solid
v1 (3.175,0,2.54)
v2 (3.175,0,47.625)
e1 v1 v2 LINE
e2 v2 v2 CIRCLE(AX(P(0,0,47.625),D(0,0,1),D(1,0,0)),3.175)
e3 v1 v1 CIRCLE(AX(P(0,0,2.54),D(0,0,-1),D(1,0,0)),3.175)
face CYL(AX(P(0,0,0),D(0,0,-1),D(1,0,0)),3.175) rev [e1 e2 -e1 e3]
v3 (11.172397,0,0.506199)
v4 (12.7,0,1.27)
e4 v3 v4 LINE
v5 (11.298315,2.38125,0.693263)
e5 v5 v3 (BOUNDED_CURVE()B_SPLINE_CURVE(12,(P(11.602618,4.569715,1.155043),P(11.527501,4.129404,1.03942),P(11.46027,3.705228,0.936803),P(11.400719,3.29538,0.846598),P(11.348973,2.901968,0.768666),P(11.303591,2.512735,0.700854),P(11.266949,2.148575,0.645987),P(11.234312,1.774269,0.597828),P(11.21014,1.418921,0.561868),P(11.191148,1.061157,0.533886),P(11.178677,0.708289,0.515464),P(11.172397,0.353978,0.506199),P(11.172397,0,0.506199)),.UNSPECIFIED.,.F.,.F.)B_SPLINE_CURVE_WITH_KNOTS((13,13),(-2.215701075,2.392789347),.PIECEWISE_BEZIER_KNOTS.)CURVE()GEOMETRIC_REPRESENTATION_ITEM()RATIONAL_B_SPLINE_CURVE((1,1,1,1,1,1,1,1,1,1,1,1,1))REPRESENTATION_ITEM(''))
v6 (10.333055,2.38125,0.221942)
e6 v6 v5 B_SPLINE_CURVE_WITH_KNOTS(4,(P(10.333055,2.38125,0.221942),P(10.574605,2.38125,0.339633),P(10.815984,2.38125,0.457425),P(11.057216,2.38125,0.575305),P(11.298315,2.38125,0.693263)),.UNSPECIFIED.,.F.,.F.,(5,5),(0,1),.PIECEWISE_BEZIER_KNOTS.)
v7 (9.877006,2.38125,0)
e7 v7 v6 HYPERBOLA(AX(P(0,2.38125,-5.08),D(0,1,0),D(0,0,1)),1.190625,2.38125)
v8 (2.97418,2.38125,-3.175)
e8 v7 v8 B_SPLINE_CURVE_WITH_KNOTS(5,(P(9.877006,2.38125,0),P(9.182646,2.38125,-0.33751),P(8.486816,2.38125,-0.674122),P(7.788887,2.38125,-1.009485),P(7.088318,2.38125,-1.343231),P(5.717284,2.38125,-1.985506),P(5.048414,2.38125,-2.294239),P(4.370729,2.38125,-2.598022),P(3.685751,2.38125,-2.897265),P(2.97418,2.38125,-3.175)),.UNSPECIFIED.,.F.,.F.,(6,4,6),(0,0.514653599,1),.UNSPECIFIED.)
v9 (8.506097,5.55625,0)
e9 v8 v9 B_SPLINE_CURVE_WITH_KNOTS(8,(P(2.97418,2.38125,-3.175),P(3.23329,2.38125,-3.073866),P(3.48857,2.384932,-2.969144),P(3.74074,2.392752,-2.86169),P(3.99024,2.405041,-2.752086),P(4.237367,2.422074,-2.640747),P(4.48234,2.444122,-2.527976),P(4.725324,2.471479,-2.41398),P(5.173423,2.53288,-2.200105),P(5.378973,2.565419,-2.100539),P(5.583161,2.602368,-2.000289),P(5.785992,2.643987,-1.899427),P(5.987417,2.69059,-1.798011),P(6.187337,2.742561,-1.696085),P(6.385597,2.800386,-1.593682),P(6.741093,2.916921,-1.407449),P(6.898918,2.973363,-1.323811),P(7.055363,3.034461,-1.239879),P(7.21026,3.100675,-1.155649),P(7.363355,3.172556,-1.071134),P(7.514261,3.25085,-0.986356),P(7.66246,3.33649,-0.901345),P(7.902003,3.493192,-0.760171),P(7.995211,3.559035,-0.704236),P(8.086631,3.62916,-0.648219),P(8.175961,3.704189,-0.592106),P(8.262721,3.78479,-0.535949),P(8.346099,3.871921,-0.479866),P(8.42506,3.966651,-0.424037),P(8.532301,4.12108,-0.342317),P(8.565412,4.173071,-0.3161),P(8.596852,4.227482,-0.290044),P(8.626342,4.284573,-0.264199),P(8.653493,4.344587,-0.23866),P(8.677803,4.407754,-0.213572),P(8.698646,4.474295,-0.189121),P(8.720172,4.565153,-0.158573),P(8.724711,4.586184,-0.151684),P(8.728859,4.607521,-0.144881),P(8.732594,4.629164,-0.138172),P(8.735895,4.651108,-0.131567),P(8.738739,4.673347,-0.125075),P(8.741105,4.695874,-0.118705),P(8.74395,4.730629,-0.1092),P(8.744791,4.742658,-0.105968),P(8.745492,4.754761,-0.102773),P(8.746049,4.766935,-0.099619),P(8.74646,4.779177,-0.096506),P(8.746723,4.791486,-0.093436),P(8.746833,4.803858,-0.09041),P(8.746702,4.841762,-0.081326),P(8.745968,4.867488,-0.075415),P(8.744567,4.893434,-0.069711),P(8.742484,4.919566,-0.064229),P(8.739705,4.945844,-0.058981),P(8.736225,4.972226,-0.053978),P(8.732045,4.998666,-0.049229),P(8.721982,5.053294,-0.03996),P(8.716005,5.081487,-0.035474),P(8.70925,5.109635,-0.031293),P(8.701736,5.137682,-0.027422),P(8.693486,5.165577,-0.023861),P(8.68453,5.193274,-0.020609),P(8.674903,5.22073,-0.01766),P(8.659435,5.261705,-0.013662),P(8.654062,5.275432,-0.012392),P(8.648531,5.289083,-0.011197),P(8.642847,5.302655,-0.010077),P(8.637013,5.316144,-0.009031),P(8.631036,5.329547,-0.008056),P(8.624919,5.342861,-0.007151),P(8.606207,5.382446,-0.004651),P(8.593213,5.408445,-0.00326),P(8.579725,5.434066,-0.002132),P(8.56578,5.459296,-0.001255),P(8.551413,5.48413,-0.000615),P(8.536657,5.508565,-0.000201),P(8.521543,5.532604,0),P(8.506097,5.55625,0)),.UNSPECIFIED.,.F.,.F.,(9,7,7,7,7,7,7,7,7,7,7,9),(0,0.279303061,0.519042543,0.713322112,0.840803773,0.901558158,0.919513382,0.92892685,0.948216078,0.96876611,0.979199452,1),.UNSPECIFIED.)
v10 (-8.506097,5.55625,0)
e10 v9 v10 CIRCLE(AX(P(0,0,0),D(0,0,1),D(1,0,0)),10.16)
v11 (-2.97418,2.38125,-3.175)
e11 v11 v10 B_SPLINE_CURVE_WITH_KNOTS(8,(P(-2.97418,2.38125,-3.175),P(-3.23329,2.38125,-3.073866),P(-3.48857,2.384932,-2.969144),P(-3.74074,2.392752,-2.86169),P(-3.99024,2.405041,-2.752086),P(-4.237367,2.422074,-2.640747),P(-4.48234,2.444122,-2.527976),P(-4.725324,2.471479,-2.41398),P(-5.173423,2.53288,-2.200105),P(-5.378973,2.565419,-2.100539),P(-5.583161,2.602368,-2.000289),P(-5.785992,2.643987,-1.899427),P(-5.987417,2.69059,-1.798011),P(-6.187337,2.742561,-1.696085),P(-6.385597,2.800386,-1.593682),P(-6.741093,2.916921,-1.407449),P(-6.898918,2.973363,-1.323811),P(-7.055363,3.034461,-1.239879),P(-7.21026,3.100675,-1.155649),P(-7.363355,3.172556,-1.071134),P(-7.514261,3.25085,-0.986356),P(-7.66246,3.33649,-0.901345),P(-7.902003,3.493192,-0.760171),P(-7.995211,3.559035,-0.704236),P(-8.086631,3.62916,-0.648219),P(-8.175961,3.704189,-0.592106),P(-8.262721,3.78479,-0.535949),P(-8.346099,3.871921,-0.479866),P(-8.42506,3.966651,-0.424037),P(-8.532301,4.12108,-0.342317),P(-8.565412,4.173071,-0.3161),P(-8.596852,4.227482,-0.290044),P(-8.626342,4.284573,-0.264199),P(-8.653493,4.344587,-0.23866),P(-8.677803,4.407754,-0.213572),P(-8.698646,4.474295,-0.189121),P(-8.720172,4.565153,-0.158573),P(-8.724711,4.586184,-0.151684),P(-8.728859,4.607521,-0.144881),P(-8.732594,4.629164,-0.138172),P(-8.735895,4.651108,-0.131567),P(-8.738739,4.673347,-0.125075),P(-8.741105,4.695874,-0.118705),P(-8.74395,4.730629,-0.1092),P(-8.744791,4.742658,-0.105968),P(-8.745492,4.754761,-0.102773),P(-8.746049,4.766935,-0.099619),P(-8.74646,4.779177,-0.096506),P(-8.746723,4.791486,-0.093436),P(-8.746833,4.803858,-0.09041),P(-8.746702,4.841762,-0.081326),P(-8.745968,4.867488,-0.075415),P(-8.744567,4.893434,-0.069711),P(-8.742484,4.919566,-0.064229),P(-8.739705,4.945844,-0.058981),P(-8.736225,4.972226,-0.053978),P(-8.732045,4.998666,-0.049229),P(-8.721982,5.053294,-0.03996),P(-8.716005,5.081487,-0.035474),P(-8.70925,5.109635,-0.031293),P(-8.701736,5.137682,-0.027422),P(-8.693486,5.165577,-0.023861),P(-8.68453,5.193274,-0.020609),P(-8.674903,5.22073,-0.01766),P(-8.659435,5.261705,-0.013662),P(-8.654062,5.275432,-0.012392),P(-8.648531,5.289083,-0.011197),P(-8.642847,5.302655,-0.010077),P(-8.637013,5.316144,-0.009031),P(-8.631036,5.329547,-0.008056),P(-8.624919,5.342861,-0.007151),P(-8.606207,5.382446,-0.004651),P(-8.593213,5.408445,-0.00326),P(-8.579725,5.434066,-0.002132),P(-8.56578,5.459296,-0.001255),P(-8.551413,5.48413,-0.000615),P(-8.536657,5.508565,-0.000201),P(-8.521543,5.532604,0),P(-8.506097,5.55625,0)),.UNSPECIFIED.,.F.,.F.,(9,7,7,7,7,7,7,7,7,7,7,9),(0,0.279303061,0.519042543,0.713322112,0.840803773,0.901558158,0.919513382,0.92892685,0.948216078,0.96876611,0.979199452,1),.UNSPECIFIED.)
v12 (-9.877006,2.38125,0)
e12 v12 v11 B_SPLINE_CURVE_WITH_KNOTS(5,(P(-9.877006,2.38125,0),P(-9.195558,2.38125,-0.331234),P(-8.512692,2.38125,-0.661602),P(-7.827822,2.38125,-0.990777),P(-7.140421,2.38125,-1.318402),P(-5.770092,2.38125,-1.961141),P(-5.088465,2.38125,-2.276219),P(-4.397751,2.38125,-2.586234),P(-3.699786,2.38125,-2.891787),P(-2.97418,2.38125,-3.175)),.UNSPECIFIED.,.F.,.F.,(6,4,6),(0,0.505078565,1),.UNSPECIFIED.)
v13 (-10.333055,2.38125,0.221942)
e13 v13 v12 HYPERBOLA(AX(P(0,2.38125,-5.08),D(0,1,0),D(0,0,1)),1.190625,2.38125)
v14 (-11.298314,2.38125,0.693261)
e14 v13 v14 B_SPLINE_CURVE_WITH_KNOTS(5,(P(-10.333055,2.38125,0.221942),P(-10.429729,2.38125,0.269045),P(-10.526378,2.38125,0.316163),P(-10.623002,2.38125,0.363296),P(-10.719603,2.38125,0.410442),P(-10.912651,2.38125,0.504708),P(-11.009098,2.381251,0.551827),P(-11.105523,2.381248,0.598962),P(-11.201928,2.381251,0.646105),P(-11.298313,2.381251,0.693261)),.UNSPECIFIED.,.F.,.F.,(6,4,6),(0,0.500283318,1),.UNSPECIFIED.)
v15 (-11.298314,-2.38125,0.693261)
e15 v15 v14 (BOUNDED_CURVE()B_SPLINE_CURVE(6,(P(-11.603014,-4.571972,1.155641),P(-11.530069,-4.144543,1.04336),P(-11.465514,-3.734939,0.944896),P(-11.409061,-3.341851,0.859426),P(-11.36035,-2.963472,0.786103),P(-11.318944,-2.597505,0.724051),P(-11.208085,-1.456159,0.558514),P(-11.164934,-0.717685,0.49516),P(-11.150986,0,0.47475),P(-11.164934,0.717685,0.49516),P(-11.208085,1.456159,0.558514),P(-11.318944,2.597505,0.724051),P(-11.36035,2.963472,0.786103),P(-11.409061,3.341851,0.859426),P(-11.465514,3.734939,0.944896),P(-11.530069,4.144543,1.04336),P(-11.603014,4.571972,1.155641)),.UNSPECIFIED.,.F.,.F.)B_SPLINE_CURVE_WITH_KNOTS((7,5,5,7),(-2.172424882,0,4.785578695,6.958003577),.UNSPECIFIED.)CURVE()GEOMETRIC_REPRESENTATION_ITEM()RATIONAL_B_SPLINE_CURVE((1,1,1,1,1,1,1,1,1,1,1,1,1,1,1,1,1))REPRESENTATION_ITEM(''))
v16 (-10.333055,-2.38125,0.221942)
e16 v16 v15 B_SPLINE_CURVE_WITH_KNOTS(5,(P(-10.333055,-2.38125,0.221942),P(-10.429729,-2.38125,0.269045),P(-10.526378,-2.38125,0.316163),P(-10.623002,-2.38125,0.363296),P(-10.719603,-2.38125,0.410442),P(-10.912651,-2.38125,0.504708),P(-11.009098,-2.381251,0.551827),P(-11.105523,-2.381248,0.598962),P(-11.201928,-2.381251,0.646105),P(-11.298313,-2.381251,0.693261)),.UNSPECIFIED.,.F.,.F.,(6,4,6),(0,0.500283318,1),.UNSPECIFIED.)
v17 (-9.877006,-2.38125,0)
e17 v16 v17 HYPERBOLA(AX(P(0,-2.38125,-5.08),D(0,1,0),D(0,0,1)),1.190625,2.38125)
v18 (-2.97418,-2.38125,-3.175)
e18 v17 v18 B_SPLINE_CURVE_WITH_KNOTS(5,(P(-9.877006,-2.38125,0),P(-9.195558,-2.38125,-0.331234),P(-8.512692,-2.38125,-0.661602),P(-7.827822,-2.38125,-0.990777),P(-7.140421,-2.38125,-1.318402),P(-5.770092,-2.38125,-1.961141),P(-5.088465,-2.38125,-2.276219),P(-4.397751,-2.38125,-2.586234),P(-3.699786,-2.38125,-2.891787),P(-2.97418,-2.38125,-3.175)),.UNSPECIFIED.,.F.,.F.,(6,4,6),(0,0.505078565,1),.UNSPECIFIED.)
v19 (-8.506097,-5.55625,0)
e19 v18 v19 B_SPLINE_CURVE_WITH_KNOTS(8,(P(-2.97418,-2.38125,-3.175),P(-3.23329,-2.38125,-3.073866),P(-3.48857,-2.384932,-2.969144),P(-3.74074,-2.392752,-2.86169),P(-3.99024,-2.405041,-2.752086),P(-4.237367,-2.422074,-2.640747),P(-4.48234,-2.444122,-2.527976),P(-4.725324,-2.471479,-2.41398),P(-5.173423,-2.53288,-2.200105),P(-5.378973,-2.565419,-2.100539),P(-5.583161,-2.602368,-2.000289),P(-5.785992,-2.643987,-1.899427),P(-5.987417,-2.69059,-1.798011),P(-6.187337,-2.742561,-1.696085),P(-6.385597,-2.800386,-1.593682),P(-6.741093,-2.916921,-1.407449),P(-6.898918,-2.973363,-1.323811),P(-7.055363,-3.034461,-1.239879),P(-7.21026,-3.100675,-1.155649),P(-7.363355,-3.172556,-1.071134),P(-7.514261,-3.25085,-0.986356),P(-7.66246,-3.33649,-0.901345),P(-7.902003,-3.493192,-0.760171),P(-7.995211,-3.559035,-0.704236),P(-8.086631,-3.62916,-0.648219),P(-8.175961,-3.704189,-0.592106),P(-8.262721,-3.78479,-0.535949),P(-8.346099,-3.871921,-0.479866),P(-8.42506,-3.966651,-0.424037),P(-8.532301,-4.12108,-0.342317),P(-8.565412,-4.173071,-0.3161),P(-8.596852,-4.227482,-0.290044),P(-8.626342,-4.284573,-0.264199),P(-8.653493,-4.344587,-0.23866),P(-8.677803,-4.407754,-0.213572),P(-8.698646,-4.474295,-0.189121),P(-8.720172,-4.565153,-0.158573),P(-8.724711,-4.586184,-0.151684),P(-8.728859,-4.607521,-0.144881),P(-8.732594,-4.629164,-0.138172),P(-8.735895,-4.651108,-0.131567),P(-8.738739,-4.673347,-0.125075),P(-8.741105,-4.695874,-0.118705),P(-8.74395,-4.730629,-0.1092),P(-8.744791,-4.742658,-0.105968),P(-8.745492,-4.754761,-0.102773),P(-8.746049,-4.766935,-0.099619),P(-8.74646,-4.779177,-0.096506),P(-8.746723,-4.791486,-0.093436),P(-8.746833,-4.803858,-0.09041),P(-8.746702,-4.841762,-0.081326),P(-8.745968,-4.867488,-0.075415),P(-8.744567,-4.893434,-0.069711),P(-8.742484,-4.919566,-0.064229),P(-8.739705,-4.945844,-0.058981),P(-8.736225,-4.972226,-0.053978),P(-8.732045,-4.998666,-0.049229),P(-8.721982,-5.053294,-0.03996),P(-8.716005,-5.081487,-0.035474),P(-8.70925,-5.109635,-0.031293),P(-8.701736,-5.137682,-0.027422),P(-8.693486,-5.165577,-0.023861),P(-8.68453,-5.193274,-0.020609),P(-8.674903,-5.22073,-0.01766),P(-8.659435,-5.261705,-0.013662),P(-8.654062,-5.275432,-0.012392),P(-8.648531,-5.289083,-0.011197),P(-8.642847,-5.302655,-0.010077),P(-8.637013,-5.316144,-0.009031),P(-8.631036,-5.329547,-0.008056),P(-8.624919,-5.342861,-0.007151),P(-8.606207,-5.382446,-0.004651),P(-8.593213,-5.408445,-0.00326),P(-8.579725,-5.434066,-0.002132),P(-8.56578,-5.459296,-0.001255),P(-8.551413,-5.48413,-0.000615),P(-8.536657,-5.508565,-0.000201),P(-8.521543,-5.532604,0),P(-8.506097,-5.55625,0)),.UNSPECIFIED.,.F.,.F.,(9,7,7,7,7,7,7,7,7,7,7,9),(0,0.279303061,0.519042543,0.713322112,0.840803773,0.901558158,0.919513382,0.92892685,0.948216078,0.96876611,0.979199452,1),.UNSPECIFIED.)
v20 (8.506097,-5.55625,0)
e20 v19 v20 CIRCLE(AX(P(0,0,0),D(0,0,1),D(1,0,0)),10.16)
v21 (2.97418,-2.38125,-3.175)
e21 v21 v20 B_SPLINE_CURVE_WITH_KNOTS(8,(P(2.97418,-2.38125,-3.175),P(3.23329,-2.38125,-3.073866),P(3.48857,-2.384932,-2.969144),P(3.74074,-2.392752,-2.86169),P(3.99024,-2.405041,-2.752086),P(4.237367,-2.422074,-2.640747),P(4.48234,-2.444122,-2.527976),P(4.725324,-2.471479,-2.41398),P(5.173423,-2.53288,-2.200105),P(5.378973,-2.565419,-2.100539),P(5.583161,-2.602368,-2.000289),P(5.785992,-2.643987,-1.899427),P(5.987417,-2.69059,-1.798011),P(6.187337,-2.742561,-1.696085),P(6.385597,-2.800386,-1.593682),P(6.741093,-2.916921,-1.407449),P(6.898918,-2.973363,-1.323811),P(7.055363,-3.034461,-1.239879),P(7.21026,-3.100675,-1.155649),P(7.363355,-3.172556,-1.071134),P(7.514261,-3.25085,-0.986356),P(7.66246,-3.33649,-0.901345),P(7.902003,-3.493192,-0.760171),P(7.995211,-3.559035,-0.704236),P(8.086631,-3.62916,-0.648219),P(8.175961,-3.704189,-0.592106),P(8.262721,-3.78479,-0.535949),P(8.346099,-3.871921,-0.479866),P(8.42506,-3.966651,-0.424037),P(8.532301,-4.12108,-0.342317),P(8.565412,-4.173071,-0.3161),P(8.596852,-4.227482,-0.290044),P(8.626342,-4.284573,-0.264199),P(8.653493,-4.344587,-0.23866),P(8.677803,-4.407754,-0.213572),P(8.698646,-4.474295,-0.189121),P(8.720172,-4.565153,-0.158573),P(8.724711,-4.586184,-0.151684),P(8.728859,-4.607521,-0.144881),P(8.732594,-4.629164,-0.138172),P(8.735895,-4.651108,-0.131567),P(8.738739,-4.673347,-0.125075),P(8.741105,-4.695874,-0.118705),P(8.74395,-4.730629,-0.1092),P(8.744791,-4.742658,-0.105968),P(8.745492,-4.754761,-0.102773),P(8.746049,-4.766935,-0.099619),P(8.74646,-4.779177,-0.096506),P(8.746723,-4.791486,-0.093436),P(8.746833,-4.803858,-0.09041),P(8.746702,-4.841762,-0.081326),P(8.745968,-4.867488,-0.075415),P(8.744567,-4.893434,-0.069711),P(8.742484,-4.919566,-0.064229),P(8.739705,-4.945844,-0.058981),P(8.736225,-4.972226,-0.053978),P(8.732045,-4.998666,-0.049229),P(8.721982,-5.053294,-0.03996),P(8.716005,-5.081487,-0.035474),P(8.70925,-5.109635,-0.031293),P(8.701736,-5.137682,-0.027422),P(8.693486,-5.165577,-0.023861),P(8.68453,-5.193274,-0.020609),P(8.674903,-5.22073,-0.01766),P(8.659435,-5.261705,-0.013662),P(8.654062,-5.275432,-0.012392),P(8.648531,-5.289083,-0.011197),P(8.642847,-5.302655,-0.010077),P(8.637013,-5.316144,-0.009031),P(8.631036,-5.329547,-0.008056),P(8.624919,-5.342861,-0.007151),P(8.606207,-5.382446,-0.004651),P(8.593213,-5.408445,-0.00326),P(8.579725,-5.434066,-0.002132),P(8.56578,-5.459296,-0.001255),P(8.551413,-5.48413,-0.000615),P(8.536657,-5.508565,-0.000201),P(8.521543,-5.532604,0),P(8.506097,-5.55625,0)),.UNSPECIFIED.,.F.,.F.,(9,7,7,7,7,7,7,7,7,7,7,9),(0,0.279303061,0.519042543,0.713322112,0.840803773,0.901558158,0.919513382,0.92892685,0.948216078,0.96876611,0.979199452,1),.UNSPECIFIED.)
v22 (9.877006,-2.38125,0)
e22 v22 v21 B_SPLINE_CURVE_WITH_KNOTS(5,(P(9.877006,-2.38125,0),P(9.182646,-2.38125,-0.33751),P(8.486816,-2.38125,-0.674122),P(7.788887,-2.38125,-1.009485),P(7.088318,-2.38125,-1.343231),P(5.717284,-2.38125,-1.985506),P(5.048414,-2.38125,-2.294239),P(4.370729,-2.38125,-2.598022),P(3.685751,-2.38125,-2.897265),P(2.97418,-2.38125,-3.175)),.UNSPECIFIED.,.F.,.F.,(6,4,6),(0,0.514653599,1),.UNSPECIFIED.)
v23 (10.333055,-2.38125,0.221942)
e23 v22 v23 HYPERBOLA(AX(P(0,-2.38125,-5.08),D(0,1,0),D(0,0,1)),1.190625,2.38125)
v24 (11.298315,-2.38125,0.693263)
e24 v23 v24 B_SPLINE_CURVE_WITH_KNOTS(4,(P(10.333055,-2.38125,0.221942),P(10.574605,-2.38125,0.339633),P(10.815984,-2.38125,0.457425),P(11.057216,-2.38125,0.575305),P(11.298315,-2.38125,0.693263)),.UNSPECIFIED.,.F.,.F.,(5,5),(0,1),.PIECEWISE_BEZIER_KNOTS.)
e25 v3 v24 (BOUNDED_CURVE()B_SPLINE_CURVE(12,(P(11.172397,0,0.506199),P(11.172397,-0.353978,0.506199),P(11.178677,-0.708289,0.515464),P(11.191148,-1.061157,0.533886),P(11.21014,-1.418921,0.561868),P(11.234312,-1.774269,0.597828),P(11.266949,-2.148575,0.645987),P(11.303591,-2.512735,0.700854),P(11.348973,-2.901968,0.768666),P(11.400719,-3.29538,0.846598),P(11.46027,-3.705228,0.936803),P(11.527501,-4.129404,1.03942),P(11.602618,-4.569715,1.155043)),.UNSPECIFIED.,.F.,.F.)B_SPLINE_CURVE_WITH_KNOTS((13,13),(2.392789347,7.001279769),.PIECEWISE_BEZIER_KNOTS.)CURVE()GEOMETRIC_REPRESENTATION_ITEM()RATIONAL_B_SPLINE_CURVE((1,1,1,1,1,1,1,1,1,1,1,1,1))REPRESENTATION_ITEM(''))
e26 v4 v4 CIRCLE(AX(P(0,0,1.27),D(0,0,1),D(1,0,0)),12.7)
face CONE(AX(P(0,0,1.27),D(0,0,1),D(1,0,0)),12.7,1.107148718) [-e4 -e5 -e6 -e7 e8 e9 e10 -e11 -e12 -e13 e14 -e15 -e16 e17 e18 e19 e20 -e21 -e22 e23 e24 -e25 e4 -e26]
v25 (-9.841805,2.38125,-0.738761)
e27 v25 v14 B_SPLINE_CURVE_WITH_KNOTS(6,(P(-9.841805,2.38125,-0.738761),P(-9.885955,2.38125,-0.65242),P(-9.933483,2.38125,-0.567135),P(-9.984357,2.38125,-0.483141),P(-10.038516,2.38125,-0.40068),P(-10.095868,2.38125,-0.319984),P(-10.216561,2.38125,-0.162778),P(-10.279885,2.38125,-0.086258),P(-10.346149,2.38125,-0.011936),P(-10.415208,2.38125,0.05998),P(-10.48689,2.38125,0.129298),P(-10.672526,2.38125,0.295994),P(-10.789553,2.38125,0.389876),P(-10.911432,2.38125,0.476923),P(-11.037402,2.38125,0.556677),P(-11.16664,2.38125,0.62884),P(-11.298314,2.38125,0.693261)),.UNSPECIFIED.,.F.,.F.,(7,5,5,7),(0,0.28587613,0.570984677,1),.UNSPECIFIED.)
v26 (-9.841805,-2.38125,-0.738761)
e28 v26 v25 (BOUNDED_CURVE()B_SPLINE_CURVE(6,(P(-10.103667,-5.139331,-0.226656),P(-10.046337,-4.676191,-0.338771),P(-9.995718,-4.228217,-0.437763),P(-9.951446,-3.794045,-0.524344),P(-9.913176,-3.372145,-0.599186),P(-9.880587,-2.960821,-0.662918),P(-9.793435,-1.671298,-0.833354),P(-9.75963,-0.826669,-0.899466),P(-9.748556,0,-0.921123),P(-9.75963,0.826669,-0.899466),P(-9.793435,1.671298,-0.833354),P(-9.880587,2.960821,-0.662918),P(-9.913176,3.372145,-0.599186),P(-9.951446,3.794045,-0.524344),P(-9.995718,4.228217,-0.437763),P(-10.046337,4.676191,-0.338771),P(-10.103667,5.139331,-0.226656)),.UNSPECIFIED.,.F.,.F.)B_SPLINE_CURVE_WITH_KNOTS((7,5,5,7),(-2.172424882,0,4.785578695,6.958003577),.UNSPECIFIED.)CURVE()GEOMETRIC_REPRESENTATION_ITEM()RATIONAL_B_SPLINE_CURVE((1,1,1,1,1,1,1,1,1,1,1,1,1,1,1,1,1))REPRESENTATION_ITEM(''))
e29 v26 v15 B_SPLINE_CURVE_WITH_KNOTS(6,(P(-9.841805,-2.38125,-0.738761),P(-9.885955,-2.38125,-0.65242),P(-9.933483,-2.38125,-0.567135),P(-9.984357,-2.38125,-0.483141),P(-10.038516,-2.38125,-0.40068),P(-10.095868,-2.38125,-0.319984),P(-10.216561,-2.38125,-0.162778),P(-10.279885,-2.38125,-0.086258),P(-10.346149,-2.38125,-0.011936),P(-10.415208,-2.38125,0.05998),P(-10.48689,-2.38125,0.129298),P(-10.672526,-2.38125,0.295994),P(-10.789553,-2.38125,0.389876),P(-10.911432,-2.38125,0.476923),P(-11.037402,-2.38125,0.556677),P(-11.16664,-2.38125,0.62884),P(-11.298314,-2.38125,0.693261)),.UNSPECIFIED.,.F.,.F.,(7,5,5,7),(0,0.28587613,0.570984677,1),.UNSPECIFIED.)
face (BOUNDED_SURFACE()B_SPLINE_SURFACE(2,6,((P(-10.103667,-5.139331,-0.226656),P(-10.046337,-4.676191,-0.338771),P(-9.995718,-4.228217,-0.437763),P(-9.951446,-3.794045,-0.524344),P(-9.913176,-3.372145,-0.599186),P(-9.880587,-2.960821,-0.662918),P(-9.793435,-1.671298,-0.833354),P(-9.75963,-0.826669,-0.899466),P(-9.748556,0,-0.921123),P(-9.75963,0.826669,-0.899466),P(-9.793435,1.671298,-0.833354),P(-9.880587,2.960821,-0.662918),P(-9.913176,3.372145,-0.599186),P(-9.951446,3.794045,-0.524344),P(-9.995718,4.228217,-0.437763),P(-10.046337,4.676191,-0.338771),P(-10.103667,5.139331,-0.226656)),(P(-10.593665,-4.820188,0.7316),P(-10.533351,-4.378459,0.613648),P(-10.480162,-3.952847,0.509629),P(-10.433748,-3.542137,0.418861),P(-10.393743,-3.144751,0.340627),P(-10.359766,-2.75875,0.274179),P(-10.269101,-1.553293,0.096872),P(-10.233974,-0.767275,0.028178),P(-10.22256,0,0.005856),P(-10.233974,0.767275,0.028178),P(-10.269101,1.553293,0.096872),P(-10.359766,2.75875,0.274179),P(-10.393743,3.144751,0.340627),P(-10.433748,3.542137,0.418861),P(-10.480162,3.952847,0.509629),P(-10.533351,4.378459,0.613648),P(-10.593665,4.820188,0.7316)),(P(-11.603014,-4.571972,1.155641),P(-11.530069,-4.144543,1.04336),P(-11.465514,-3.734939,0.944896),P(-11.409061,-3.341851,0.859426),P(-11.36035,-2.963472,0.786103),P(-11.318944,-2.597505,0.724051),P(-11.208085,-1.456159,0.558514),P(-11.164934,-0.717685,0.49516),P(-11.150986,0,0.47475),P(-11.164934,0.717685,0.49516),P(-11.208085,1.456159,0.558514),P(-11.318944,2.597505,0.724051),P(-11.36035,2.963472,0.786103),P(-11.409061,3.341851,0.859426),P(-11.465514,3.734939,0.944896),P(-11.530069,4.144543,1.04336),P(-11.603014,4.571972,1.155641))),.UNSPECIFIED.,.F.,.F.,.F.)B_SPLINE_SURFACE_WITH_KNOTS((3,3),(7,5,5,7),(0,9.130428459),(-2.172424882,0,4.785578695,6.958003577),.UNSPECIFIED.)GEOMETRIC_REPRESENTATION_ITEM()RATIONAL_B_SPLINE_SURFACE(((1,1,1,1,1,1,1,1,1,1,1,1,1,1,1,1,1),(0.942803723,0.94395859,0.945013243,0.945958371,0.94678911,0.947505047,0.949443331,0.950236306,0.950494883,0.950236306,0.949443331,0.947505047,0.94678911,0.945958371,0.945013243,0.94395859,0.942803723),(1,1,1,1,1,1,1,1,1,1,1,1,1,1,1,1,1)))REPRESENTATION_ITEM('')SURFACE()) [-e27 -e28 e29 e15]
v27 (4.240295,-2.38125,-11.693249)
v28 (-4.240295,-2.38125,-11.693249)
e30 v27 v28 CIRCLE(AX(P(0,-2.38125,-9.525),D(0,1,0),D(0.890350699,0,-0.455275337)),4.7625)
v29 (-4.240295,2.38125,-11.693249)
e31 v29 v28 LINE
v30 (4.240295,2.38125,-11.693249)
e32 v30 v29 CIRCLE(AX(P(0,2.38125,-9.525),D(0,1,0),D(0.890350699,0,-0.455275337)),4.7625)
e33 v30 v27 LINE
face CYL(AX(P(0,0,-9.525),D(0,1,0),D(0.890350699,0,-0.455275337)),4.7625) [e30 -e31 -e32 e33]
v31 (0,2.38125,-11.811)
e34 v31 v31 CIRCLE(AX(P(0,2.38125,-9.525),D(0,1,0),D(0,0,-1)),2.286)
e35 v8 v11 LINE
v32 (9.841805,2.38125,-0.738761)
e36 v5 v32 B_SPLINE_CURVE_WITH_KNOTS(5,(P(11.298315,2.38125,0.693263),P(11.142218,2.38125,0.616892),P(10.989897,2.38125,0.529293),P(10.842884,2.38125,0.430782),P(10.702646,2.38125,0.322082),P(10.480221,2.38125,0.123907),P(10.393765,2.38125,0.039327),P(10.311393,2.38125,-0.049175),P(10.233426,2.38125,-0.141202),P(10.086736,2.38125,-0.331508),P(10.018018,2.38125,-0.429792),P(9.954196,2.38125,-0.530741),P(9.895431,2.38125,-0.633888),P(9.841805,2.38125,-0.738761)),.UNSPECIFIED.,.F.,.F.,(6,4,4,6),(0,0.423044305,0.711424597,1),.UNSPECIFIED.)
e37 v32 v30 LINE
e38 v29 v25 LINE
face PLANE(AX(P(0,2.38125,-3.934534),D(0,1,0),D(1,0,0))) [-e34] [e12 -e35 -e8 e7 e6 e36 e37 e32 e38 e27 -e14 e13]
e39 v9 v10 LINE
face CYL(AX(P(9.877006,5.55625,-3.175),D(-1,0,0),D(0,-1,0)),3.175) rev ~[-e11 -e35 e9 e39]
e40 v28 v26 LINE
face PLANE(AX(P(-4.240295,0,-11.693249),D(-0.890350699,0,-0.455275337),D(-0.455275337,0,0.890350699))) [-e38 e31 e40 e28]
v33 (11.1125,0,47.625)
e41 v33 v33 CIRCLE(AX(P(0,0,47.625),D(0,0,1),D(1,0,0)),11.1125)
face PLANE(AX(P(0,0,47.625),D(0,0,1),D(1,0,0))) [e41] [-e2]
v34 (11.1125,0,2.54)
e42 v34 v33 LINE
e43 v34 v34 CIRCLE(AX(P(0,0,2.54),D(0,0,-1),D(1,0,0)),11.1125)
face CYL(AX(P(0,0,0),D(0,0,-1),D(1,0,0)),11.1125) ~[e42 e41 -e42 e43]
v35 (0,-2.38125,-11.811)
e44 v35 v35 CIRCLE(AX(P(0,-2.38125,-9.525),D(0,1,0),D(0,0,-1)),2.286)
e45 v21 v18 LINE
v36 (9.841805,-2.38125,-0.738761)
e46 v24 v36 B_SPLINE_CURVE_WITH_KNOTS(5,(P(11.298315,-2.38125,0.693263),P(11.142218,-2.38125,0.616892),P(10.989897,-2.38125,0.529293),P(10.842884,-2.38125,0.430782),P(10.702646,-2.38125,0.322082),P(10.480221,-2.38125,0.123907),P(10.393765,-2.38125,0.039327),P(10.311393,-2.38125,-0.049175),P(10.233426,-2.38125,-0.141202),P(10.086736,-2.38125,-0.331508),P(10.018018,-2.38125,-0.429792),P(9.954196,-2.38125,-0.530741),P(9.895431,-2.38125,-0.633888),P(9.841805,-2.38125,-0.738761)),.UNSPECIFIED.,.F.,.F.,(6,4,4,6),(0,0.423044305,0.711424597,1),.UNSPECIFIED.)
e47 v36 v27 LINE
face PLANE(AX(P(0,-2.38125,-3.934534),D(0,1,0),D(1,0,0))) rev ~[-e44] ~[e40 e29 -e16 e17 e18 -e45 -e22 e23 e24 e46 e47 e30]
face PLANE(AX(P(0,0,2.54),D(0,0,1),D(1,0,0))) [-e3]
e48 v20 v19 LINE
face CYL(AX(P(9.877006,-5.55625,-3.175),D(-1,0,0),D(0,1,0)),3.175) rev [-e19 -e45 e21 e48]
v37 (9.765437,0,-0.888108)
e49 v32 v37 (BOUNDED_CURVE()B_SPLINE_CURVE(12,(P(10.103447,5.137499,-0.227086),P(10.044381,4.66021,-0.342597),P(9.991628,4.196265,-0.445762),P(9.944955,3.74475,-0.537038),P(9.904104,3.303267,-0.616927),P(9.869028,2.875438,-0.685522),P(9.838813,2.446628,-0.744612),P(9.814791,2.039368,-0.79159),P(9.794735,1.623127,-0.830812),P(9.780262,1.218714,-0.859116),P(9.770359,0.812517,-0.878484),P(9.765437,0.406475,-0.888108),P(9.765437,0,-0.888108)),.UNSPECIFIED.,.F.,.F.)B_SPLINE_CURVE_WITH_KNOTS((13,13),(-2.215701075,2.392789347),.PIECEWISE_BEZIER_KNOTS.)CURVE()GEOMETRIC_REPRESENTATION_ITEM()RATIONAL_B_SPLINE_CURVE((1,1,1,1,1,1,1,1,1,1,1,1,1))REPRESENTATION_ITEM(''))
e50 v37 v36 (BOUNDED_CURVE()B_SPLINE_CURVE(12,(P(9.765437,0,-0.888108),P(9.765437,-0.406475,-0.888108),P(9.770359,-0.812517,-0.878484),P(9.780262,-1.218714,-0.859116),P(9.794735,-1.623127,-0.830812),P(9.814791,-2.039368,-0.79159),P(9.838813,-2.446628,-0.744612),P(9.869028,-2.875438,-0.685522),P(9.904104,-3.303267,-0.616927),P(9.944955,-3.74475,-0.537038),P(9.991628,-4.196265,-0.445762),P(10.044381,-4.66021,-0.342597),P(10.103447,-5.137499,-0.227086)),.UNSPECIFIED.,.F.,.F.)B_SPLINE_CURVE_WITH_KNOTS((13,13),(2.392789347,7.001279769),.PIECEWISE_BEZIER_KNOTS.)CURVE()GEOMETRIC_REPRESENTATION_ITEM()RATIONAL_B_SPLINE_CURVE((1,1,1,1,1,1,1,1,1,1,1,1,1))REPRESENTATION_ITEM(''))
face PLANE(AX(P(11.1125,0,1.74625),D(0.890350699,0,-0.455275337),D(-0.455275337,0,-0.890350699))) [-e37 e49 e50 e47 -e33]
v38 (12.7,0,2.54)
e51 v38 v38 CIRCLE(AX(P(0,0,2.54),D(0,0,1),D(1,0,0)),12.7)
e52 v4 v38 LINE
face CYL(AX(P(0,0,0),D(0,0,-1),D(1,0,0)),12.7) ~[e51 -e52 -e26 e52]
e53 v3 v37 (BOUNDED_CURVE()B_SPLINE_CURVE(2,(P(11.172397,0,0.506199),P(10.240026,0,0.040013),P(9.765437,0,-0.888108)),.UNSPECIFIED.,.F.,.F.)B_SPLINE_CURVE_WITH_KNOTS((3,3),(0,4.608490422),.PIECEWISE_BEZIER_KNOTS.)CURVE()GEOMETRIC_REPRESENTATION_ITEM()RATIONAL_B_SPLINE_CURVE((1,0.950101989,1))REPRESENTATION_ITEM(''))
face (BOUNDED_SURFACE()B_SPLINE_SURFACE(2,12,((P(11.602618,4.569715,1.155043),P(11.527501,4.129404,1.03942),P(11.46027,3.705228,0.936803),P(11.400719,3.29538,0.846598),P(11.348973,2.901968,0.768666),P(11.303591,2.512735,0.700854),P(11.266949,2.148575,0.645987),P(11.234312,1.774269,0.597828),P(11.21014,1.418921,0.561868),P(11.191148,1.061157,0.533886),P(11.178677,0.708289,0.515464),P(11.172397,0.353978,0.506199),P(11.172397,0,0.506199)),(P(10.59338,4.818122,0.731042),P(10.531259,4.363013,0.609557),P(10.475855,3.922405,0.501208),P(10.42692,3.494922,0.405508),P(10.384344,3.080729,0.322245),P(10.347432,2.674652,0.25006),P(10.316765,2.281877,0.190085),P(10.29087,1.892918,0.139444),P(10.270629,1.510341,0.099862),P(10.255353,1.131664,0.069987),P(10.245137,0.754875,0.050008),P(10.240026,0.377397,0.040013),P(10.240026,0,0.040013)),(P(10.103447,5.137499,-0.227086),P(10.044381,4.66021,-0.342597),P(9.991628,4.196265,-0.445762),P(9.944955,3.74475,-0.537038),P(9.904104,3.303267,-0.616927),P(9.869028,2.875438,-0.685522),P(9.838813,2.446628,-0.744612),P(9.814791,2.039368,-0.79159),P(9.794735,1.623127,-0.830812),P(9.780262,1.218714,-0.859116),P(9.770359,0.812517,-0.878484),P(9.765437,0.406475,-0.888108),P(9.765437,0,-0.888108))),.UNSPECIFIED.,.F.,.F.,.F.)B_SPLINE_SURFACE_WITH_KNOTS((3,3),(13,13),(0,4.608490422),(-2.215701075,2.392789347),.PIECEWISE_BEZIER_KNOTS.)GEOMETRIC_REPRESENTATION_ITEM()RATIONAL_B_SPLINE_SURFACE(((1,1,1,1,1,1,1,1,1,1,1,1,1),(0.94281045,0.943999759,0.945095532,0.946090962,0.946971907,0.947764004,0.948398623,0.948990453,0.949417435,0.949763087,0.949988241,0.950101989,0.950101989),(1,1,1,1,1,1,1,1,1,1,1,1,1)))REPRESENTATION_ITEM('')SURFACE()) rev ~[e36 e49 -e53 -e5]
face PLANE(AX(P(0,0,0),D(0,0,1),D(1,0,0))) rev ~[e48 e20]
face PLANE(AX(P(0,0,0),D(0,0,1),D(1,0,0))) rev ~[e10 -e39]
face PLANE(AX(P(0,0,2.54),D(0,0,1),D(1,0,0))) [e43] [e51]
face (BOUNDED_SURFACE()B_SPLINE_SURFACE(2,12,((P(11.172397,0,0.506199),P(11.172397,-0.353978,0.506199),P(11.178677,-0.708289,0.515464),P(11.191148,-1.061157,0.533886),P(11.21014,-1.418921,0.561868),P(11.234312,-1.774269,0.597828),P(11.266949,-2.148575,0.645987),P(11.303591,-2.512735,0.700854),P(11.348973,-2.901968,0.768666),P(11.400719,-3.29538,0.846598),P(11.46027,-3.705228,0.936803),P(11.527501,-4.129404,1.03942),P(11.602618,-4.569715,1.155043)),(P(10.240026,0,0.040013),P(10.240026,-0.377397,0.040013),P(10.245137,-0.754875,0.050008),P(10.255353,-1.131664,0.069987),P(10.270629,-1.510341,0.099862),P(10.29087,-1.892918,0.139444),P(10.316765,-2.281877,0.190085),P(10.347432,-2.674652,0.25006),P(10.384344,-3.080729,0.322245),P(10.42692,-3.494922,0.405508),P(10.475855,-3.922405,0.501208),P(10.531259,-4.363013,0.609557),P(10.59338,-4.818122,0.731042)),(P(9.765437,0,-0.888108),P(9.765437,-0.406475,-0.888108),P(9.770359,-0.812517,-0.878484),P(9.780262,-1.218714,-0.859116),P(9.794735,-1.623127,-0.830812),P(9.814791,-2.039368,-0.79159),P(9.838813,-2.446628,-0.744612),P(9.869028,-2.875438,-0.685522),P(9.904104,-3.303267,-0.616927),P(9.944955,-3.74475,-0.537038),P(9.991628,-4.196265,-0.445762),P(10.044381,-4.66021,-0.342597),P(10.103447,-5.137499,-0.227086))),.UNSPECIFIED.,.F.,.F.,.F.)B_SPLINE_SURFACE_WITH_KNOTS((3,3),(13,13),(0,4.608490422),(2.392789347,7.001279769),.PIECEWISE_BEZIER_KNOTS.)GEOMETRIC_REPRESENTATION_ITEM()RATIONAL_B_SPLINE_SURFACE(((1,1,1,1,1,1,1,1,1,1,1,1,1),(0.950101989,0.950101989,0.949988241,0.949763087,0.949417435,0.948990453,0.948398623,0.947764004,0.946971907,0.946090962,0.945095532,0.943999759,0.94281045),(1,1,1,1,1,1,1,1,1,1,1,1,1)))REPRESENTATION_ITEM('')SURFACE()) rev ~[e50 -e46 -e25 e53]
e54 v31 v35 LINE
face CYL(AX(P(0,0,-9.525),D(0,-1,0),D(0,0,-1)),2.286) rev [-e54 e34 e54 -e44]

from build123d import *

# Parameters (mm, degrees)
SKETCH1_R           = 12.7
SKETCH1_R_2         = 11.1125
SKETCH1_R_3         = 3.175
BOSS_EXTRUDE1_DEPTH = 2.54
SKETCH1_3_R         = 11.1125
SKETCH1_3_R_2       = 3.175
BOSS_EXTRUDE2_DEPTH = 47.625
CHAMFER1_SIZE       = 2.54
CHAMFER1_SIZE2      = 1.27
SKETCH2_R           = 2.286
BOSS_EXTRUDE3_DEPTH = 2.38125
FILLET1_R           = 3.175
FILLET2_R           = 3.175


with BuildPart() as part:
    # Sketch1 → Boss-Extrude1 (new body)
    # profile 1 of 3: a face of its own
    with BuildSketch(Plane.XY):
        Circle(SKETCH1_R)
        Circle(SKETCH1_R_2, mode=Mode.SUBTRACT)
    # profile 2 of 3: a face of its own
    with BuildSketch(Plane.XY):
        Circle(SKETCH1_R_2)
        Circle(SKETCH1_R_3, mode=Mode.SUBTRACT)
    # profile 3 of 3: a face of its own
    with BuildSketch(Plane.XY):
        Circle(SKETCH1_R_3)
    extrude(amount=BOSS_EXTRUDE1_DEPTH)

    # Sketch1<3> → Boss-Extrude2 (add)
    with BuildSketch(Plane.XY):
        Circle(SKETCH1_3_R)
        Circle(SKETCH1_3_R_2, mode=Mode.SUBTRACT)
    extrude(amount=BOSS_EXTRUDE2_DEPTH)

    # Chamfer1
    chamfer1_edges = [part.edges().sort_by_distance(p)[0] for p in [
        (-12.7, 0, 0),
    ]]
    chamfer1_side = [part.faces().sort_by_distance(p)[0] for p in [
        (0, 0, 0),
    ]]
    chamfer(chamfer1_edges, length=CHAMFER1_SIZE, length2=CHAMFER1_SIZE2, reference=chamfer1_side[0])

    # Sketch2 → Boss-Extrude3 (add, symmetric)
    with BuildSketch(Plane(origin=(0, 0, 0), x_dir=(1, 0, 0), z_dir=(0, 1, 0))):
        with BuildLine():
            Line((-4.240295204, 11.693248793), (-11.1125, -1.74625))
            Line((-11.1125, -1.74625), (11.1125, -1.74625))
            Line((11.1125, -1.74625), (4.240295204, 11.693248793))
            ThreePointArc((4.240295204, 11.693248793), (0, 14.2875), (-4.240295204, 11.693248793))
        make_face()
        with Locations(Location((0, 9.525, 0), (0, 0, 90))):
            Circle(SKETCH2_R, mode=Mode.SUBTRACT)
    extrude(amount=BOSS_EXTRUDE3_DEPTH, both=True)

    # Fillet1
    fillet1_edges = [part.edges().sort_by_distance(p)[0] for p in [
        (10.263836295, -1.194873852, 0.086576696),
        (-10.240026318, 0, 0.040013159),
        (10.263836295, 1.194873852, 0.086576696),
    ]]
    fillet(fillet1_edges, radius=FILLET1_R)

    # Fillet2
    fillet2_edges = [part.edges().sort_by_distance(p)[0] for p in [
        (0, 2.38125, 0),
        (0, -2.38125, 0),
    ]]
    fillet(fillet2_edges, radius=FILLET2_R)


solid = part.part
